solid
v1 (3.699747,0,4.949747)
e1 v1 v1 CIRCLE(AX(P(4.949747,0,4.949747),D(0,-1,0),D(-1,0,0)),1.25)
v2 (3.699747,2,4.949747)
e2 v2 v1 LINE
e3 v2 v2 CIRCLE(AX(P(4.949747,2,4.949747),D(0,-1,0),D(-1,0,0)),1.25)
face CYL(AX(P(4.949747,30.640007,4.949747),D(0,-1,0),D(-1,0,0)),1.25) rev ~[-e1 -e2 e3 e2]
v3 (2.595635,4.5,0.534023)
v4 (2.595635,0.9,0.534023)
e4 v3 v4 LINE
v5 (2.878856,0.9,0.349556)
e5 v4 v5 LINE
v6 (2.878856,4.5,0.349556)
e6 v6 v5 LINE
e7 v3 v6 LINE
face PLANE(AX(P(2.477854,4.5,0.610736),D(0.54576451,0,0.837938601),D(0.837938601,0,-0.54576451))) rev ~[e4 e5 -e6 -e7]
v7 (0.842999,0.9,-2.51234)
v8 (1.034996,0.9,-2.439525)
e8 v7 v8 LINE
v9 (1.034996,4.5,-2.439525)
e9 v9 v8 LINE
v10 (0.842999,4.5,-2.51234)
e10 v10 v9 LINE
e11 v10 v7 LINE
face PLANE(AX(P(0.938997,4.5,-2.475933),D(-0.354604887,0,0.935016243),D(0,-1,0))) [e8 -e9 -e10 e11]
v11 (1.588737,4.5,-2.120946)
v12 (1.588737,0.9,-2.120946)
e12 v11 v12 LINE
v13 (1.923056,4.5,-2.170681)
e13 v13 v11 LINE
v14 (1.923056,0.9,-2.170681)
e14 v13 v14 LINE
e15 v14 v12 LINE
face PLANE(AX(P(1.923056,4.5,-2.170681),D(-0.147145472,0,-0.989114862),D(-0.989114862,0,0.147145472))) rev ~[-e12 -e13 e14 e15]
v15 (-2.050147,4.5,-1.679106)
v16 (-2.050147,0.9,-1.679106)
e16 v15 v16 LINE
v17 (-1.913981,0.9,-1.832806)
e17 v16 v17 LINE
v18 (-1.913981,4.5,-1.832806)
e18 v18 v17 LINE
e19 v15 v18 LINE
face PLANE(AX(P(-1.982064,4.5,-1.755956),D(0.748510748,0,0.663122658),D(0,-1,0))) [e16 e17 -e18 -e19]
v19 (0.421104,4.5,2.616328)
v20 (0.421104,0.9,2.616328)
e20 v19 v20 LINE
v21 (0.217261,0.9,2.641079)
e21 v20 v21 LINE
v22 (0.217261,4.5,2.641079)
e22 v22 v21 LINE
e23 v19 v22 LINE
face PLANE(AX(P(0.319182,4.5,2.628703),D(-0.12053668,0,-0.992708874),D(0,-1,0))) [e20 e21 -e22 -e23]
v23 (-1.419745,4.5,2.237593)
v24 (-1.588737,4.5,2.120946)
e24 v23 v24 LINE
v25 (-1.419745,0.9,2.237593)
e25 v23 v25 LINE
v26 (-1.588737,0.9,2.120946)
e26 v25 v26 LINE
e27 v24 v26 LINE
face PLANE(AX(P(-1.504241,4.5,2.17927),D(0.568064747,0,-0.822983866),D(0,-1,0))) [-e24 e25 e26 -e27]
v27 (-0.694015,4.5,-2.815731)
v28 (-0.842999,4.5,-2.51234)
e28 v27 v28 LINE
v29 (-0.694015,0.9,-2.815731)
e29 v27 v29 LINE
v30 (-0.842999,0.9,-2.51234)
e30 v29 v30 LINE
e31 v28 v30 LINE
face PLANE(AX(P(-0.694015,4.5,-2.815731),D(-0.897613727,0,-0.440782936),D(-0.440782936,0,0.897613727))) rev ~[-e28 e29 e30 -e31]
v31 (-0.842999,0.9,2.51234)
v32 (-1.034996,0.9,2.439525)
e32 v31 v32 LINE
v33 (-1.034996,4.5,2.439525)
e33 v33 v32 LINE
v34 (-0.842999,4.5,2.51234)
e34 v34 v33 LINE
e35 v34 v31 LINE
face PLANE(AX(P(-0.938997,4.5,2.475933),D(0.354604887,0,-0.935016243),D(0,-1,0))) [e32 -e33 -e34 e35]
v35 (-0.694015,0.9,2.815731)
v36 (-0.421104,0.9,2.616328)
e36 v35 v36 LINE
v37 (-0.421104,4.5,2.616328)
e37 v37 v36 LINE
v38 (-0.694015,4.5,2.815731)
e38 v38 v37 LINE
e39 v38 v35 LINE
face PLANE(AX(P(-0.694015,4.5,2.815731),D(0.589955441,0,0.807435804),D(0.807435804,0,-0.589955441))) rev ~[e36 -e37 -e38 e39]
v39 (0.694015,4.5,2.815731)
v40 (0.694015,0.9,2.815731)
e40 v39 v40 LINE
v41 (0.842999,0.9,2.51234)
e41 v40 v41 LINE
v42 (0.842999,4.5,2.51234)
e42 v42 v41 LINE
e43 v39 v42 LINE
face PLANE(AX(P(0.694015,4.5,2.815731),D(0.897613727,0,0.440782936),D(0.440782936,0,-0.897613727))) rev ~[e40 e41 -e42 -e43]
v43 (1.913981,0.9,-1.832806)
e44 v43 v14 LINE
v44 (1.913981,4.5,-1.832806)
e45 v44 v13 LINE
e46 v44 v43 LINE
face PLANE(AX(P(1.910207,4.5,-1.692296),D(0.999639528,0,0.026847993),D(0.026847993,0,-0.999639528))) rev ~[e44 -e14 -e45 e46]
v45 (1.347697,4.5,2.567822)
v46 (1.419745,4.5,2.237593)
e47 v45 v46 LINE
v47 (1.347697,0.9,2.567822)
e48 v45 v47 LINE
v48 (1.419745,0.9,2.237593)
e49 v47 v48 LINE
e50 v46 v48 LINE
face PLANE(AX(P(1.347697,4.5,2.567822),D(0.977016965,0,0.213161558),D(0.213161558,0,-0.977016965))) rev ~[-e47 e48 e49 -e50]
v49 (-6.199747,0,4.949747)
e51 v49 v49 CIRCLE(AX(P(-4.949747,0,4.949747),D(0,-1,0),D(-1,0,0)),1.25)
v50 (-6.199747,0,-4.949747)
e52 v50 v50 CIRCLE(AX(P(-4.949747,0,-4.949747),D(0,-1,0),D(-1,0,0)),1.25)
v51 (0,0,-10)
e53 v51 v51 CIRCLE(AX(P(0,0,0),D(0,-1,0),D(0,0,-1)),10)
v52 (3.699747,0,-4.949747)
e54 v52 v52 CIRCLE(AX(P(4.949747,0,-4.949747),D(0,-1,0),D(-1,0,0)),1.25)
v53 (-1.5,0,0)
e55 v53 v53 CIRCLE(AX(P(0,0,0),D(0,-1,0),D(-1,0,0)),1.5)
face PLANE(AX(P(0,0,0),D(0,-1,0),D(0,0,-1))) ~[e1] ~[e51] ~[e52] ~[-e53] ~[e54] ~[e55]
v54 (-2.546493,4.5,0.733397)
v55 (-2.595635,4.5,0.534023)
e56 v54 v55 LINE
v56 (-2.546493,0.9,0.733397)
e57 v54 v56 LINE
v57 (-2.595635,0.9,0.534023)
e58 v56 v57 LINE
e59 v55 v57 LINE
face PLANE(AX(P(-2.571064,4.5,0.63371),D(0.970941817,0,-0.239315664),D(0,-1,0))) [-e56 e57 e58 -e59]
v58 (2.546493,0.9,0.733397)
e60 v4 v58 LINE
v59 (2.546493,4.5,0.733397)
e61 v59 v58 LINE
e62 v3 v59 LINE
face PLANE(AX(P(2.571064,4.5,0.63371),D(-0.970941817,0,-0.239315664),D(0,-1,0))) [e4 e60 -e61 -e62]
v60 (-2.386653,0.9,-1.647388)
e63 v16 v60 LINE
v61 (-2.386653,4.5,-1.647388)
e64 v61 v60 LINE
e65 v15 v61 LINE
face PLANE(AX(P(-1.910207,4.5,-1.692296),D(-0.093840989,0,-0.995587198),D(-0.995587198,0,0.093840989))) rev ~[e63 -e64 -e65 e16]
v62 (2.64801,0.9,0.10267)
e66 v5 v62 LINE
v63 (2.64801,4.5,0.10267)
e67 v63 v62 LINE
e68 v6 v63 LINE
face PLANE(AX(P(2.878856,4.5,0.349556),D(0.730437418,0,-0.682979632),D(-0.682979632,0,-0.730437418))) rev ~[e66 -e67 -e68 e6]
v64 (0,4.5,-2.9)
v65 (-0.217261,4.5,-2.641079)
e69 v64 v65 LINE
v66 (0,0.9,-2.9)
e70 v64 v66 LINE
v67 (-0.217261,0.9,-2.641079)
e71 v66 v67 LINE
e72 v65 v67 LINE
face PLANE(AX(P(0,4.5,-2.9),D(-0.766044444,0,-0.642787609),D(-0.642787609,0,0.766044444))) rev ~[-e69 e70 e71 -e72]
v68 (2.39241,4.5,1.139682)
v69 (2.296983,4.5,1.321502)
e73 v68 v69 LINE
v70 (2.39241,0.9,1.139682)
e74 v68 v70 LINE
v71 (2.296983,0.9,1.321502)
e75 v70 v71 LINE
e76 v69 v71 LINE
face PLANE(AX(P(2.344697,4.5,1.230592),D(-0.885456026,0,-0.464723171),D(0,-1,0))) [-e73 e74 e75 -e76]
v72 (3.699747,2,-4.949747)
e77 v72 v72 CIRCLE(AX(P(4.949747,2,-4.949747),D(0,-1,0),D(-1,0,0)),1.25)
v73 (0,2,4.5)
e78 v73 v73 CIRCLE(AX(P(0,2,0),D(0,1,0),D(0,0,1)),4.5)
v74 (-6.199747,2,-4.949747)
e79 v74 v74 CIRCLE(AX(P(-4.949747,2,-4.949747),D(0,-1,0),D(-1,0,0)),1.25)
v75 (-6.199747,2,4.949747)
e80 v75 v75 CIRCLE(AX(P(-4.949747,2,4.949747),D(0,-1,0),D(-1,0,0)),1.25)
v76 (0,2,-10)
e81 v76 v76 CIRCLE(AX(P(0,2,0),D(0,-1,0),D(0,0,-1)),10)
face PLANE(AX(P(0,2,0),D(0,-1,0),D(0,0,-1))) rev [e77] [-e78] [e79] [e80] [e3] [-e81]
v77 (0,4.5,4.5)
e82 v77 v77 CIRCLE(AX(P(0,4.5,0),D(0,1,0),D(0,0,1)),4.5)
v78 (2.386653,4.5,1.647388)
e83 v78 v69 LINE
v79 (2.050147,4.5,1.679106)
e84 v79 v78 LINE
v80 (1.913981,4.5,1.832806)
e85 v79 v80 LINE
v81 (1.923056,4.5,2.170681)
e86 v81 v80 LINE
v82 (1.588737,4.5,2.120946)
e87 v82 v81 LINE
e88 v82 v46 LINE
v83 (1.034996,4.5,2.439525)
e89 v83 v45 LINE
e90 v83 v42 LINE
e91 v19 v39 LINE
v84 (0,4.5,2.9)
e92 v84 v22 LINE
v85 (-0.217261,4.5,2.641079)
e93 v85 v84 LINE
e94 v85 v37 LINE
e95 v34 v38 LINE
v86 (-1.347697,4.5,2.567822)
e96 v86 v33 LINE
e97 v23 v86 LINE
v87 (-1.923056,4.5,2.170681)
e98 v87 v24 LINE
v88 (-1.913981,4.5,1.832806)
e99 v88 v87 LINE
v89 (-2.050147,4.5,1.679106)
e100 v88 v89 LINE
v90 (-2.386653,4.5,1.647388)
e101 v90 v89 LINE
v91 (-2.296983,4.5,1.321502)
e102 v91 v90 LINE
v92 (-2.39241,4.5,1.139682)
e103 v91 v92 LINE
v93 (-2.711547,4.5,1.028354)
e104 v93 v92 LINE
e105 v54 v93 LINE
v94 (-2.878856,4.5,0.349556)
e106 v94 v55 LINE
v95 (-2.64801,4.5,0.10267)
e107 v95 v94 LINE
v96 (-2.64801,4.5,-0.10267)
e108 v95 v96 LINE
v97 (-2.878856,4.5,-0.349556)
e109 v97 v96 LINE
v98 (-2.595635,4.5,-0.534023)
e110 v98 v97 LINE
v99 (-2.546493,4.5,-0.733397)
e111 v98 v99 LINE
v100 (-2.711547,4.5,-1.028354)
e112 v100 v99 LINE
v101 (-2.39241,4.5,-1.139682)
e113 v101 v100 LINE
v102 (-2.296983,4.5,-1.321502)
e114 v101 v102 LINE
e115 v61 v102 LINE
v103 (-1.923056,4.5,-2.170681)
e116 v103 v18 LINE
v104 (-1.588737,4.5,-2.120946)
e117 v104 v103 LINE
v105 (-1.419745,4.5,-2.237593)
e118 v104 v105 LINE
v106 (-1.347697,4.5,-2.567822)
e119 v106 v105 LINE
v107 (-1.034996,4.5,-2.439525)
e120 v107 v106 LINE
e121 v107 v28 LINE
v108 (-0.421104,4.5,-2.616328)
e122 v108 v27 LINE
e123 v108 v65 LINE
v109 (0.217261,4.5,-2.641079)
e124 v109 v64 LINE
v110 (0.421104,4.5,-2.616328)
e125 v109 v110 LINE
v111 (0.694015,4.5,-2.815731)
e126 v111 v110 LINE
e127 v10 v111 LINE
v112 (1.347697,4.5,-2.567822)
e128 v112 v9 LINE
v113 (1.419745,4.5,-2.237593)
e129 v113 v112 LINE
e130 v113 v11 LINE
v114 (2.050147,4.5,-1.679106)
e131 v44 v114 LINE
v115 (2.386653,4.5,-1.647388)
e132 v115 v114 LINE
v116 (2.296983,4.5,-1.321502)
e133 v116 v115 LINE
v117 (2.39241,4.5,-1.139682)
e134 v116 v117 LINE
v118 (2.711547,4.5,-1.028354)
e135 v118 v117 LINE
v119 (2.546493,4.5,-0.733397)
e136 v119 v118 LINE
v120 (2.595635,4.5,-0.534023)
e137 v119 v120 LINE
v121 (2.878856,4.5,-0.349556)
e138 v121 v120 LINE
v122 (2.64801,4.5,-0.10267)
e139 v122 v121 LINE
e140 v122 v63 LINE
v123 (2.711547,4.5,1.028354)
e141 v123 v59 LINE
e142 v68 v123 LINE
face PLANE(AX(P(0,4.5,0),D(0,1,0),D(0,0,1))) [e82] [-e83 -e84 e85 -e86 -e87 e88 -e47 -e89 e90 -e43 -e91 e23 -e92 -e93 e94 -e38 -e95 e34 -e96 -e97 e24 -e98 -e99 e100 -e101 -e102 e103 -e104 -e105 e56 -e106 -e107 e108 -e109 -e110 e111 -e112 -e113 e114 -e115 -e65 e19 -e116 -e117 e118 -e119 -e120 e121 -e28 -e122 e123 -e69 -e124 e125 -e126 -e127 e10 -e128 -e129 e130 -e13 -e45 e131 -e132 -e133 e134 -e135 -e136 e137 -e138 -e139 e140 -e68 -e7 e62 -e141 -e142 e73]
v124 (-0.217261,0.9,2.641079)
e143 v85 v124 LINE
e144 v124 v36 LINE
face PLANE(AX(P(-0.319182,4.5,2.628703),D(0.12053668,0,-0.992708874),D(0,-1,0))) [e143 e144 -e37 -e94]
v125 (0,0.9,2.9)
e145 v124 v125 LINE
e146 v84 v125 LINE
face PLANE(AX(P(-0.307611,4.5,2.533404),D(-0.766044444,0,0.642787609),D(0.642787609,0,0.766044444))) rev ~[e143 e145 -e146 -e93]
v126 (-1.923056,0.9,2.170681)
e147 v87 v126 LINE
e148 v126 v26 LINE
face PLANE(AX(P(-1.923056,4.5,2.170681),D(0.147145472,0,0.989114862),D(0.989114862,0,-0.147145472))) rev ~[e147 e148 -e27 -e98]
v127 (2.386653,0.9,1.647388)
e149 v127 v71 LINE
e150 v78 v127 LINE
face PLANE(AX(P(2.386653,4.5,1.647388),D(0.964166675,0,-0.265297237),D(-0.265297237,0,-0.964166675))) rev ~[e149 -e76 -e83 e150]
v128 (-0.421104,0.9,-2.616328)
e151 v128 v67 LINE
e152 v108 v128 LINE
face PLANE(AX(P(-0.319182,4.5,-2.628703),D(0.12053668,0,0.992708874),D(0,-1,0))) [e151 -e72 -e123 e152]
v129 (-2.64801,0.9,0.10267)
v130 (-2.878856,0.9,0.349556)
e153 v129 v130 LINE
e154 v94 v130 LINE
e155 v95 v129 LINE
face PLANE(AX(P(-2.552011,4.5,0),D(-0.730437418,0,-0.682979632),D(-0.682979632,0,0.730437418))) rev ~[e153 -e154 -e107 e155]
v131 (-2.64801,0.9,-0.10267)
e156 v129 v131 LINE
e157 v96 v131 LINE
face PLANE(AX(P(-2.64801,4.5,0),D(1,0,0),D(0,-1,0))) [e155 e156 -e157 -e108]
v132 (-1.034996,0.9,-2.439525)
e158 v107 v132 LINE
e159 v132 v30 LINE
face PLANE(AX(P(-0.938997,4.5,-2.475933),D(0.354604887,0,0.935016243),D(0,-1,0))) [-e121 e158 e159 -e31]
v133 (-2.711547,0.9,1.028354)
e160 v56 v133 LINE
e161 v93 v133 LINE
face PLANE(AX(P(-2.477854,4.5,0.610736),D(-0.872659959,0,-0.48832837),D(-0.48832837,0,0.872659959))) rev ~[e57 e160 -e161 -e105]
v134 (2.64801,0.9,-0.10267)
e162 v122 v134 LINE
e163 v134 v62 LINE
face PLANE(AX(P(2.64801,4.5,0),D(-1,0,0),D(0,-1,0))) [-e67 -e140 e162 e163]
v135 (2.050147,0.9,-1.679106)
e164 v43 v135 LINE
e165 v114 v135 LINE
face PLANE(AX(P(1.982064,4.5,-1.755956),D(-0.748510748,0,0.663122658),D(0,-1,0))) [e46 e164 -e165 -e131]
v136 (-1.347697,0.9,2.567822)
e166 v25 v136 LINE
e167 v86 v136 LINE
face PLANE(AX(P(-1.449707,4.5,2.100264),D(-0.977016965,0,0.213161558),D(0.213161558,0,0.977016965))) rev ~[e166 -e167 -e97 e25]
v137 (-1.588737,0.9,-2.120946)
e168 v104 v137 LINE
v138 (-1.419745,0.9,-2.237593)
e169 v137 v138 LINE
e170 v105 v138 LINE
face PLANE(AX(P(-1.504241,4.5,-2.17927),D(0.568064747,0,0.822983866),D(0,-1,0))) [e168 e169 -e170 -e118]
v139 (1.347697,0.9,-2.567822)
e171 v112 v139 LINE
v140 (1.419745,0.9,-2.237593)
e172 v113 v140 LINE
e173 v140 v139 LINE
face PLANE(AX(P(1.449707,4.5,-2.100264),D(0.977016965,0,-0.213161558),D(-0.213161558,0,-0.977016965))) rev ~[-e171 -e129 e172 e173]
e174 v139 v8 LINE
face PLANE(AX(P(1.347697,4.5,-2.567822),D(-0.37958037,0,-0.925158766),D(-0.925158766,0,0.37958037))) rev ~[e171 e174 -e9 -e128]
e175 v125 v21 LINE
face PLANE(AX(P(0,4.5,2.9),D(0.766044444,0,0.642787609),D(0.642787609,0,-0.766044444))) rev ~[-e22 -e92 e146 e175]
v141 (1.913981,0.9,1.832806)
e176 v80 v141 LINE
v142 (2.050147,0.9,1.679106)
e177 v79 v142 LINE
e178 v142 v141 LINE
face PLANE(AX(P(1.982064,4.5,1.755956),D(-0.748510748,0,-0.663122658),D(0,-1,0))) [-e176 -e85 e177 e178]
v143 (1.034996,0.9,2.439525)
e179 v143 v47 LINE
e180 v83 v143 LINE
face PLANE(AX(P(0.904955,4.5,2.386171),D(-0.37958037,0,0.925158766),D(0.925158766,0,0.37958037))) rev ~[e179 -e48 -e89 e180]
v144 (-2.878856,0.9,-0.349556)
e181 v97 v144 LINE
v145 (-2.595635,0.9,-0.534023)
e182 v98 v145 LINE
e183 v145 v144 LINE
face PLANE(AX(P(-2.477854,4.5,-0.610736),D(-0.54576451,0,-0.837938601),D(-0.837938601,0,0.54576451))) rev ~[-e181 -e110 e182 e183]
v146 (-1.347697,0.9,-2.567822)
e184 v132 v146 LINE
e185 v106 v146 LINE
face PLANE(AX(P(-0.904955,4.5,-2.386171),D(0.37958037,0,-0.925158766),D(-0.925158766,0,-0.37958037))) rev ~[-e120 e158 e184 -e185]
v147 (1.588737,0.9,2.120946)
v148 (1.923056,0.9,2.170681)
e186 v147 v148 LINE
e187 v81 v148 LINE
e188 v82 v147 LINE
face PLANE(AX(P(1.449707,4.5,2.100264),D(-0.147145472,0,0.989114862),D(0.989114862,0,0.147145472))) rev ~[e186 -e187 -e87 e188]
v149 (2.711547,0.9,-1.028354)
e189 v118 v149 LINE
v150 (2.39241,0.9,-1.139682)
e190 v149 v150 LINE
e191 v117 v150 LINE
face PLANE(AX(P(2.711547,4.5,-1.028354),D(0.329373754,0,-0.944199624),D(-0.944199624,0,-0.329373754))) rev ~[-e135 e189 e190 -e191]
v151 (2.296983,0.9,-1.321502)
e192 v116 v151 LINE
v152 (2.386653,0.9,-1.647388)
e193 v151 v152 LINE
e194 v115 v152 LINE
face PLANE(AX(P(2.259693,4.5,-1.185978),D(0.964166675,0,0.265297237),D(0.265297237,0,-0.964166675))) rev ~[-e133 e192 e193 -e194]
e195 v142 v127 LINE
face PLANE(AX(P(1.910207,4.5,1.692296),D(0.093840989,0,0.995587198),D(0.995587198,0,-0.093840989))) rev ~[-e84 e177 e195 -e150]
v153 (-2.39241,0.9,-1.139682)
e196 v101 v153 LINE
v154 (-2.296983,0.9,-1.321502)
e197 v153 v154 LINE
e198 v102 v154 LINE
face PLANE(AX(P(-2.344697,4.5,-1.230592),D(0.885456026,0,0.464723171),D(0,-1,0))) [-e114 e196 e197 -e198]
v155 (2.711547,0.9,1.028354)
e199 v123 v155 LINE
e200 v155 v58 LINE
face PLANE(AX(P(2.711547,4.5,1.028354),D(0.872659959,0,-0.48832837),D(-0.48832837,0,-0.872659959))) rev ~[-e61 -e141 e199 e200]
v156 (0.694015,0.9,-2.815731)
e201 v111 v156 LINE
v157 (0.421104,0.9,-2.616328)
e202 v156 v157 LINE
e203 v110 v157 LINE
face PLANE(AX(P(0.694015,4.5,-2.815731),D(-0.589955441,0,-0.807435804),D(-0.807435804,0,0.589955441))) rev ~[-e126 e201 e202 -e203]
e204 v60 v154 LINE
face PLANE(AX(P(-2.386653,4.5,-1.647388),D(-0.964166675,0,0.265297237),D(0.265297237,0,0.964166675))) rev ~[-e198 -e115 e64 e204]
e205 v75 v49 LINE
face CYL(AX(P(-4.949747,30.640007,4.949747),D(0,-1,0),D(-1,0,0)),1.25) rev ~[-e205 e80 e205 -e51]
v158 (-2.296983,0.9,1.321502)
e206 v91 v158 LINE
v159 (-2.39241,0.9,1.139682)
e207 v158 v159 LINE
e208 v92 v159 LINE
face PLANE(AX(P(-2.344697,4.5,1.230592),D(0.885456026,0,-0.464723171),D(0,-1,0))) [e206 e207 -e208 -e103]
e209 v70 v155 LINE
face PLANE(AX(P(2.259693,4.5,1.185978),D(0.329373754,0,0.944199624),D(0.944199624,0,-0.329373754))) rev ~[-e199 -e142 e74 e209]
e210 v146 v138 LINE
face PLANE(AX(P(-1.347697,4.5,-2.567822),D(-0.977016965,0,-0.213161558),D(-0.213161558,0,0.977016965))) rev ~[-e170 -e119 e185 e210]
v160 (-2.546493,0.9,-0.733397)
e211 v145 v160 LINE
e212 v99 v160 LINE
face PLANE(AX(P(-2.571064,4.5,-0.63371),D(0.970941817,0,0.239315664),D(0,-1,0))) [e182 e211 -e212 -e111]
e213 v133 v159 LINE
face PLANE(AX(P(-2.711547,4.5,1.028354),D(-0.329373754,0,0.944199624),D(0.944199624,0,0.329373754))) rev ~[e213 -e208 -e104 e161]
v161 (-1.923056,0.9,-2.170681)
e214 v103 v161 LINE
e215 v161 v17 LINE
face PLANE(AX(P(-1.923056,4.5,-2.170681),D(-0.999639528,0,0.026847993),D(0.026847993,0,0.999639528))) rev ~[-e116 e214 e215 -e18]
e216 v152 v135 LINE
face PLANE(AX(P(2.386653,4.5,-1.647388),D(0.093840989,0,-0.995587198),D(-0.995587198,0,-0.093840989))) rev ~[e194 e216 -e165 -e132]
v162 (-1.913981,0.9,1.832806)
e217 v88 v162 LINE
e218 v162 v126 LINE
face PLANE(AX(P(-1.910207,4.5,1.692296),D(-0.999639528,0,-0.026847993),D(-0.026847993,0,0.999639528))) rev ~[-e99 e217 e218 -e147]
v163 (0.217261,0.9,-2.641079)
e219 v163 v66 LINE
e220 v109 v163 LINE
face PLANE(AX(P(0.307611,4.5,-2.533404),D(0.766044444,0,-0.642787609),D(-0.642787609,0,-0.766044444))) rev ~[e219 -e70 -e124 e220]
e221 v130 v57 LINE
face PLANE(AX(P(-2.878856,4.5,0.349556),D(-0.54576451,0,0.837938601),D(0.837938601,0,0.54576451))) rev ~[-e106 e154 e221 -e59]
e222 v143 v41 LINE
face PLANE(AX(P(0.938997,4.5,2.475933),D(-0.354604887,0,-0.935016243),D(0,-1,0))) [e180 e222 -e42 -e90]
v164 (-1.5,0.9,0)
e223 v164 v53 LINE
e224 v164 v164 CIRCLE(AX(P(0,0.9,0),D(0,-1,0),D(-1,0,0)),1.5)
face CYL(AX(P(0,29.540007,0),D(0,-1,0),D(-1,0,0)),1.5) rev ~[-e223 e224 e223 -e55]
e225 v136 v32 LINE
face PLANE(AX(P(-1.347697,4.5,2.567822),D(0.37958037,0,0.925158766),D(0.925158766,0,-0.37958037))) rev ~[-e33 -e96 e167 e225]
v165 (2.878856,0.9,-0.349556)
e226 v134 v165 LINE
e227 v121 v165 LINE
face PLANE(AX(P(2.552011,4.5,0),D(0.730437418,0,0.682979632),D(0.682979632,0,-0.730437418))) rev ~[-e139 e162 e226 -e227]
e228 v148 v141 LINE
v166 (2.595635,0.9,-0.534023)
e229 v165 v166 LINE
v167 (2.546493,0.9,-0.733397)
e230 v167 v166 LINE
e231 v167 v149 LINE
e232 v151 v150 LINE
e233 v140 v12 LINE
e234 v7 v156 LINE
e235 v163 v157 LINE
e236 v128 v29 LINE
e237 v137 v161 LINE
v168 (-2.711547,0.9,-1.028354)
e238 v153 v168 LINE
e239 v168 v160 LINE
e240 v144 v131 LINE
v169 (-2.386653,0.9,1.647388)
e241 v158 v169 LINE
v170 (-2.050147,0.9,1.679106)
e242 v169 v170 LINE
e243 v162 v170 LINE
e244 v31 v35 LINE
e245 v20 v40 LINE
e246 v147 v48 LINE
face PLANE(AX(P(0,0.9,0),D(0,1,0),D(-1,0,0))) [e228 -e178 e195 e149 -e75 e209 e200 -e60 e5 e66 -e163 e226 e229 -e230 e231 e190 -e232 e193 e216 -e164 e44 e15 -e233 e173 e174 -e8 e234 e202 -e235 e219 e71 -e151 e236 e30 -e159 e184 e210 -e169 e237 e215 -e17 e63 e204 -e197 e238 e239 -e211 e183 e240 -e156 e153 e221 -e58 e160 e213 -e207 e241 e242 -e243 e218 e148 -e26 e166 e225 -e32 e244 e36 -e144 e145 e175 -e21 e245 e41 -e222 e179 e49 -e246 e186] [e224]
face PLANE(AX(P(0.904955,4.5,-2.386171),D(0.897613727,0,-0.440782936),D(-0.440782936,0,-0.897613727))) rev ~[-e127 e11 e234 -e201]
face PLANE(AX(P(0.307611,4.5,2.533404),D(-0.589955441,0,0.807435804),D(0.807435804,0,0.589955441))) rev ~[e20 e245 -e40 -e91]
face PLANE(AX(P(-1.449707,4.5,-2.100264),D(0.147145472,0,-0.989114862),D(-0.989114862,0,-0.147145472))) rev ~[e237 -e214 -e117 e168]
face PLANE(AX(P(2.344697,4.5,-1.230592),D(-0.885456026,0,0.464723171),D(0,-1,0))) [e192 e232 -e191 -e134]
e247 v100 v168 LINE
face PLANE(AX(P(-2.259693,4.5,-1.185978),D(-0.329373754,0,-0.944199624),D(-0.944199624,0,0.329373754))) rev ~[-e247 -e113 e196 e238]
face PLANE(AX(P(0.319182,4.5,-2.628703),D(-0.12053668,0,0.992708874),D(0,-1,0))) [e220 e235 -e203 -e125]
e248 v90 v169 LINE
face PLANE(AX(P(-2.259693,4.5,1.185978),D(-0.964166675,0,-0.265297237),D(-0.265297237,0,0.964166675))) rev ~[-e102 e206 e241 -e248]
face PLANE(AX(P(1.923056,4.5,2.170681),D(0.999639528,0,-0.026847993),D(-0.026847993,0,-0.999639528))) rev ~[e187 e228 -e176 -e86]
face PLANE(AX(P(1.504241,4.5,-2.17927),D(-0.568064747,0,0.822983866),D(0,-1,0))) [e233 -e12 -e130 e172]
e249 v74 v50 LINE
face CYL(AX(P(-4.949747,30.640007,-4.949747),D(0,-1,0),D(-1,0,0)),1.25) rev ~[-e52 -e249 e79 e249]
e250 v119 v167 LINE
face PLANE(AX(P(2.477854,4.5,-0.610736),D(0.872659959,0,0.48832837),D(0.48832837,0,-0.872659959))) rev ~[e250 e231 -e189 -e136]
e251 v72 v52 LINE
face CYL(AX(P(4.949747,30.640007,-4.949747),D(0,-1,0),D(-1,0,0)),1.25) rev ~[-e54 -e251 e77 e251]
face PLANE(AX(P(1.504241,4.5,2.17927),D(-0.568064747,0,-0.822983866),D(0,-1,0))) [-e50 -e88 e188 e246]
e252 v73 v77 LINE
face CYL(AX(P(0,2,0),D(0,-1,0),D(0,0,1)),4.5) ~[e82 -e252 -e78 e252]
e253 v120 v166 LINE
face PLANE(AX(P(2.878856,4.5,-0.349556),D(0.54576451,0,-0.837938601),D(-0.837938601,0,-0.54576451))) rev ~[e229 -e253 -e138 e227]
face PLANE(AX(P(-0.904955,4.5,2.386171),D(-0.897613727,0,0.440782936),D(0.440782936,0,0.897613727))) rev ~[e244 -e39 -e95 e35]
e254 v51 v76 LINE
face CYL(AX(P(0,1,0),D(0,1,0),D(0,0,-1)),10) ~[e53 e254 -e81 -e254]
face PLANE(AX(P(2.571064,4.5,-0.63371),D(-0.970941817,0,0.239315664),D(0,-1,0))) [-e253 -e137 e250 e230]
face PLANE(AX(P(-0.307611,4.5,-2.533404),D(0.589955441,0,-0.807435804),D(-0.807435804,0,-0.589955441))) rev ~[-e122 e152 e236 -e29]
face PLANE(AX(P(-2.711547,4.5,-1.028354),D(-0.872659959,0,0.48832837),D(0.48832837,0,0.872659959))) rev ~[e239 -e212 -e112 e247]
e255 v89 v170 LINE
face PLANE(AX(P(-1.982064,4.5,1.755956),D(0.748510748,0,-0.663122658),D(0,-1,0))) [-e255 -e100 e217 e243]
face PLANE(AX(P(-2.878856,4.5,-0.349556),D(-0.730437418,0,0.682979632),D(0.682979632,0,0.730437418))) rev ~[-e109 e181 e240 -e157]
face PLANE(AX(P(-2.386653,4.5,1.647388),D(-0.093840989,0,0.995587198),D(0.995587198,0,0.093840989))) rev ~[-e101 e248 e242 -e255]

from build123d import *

# Parameters (mm, degrees)
SKETCH_1_W              = 10
SKETCH_1_H              = 2
SKETCH_2_R              = 4.5
EXTRUDE_1_DEPTH         = 2.5
CUT_EXTRUDE_1_DEPTH     = 3.6
HOLE_WIZARD_3_0_3_1_D   = 3
HOLE_WIZARD_2_5_2_5_1_D = 2.5
CHAMFER_1_SIZE          = 0.140560122
CHAMFER_1_EDGE_2_SIZE   = 0.140560122
CHAMFER_1_EDGE_3_SIZE   = 0.140560122
CHAMFER_1_EDGE_4_SIZE   = 0.140560122
CHAMFER_1_EDGE_5_SIZE   = 0.140560122
CHAMFER_1_EDGE_6_SIZE   = 0.140560122
CHAMFER_1_EDGE_7_SIZE   = 0.140560122
CHAMFER_1_EDGE_8_SIZE   = 0.140560122
CHAMFER_1_EDGE_9_SIZE   = 0.140560122
CHAMFER_1_EDGE_10_SIZE  = 0.140560122
CHAMFER_1_EDGE_11_SIZE  = 0.140560122
CHAMFER_1_EDGE_12_SIZE  = 0.140560122
CHAMFER_1_EDGE_13_SIZE  = 0.140560122
CHAMFER_1_EDGE_14_SIZE  = 0.140560122
CHAMFER_1_EDGE_15_SIZE  = 0.140560122
CHAMFER_1_EDGE_16_SIZE  = 0.140560122
CHAMFER_1_EDGE_17_SIZE  = 0.140560122
CHAMFER_1_EDGE_18_SIZE  = 0.140560122
CHAMFER_1_EDGE_19_SIZE  = 0.140560122
CHAMFER_1_EDGE_20_SIZE  = 0.140560122
CHAMFER_1_EDGE_21_SIZE  = 0.140560122
CHAMFER_1_EDGE_22_SIZE  = 0.140560122
CHAMFER_1_EDGE_23_SIZE  = 0.140560122
CHAMFER_1_EDGE_24_SIZE  = 0.140560122
CHAMFER_1_EDGE_25_SIZE  = 0.140560122
CHAMFER_1_EDGE_26_SIZE  = 0.140560122


with BuildPart() as part:
    # Эскиз1 → Повернуть1 (revolve)
    with BuildSketch(Plane.XY, mode=Mode.PRIVATE) as revolve_1_sk:
        with Locations((5, 1)):
            Rectangle(SKETCH_1_W, SKETCH_1_H)
    revolve(revolve_1_sk.sketch.rotate(Axis((0, 2, 0), (0, -1, 0)), 270), axis=Axis((0, 2, 0), (0, -1, 0)))

    # Эскиз2 → Бобышка-Вытянуть1 (add)
    with BuildSketch(Plane(origin=(0, 2, 0), x_dir=(-1, 0, 0), z_dir=(0, 1, 0))):
        with Locations(Location((0, 0, 0), (0, 0, 90))):
            Circle(SKETCH_2_R)
    extrude(amount=EXTRUDE_1_DEPTH)

    # Эскиз3 → Вырез-Вытянуть1 (cut)
    with BuildSketch(Plane(origin=(0, 4.5, 0), x_dir=(-1, 0, 0), z_dir=(0, 1, 0))):
        Polygon((-2.711547104, 1.028354172), (-2.477853855, 0.610736123), (-2.878855735, 0.349556373), (-2.552010646, 0), (-2.878855735, -0.349556373), (-2.477853855, -0.610736123), (-2.711547104, -1.028354172), (-2.259693204, -1.185978483), (-2.386653211, -1.647387766), (-1.910207398, -1.692296084), (-1.923055709, -2.17068117), (-1.449707281, -2.100263587), (-1.347697199, -2.567822474), (-0.904955447, -2.386171406), (-0.694015426, -2.815731271), (-0.307610891, -2.533403615), (0, -2.9), (0.307610891, -2.533403615), (0.694015426, -2.815731271), (0.904955447, -2.386171406), (1.347697199, -2.567822474), (1.449707281, -2.100263587), (1.923055709, -2.17068117), (1.910207398, -1.692296084), (2.386653211, -1.647387766), (2.259693204, -1.185978483), (2.711547104, -1.028354172), (2.477853855, -0.610736123), (2.878855735, -0.349556373), (2.552010646, 0), (2.878855735, 0.349556373), (2.477853855, 0.610736123), (2.711547104, 1.028354172), (2.259693204, 1.185978483), (2.386653211, 1.647387766), (1.910207398, 1.692296084), (1.923055709, 2.17068117), (1.449707281, 2.100263587), (1.347697199, 2.567822474), (0.904955447, 2.386171406), (0.694015426, 2.815731271), (0.307610891, 2.533403615), (0, 2.9), (-0.307610891, 2.533403615), (-0.694015426, 2.815731271), (-0.904955447, 2.386171406), (-1.347697199, 2.567822474), (-1.449707281, 2.100263587), (-1.923055709, 2.17068117), (-1.910207398, 1.692296084), (-2.386653211, 1.647387766), (-2.259693204, 1.185978483), align=None)
    extrude(amount=-CUT_EXTRUDE_1_DEPTH, mode=Mode.SUBTRACT)

    # Диаметр отверстия Ø3.0 (3)1 (through all)
    with Locations(Plane(origin=(0, 0.9, 0), x_dir=(1, 0, 0), z_dir=(0, 1, 0))):
        with Locations((0, 0)):
            Hole(HOLE_WIZARD_3_0_3_1_D / 2)

    # Диаметр отверстия Ø2.5 (2.5)1 (through all)
    with Locations(Plane(origin=(0, 2, 0), x_dir=(1, 0, 0), z_dir=(0, 1, 0))):
        with Locations((-4.949747468, 4.949747468), (4.949747468, 4.949747468), (4.949747468, -4.949747468), (-4.949747468, -4.949747468)):
            Hole(HOLE_WIZARD_2_5_2_5_1_D / 2)

    # Фаска1
    chamfer_1_edges = [part.edges().sort_by_distance(p)[0] for p in [
        (2.259693204, 2.7, 1.185978483),
    ]]
    chamfer(chamfer_1_edges, length=CHAMFER_1_SIZE)

    # Фаска1 edge 2
    chamfer_1_edge_2_edges = [part.edges().sort_by_distance(p)[0] for p in [
        (1.910207398, 2.7, 1.692296084),
    ]]
    chamfer(chamfer_1_edge_2_edges, length=CHAMFER_1_EDGE_2_SIZE)

    # Фаска1 edge 3
    chamfer_1_edge_3_edges = [part.edges().sort_by_distance(p)[0] for p in [
        (1.449707281, 2.7, 2.100263587),
    ]]
    chamfer(chamfer_1_edge_3_edges, length=CHAMFER_1_EDGE_3_SIZE)

    # Фаска1 edge 4
    chamfer_1_edge_4_edges = [part.edges().sort_by_distance(p)[0] for p in [
        (0.904955447, 2.7, 2.386171406),
    ]]
    chamfer(chamfer_1_edge_4_edges, length=CHAMFER_1_EDGE_4_SIZE)

    # Фаска1 edge 5
    chamfer_1_edge_5_edges = [part.edges().sort_by_distance(p)[0] for p in [
        (0.307610891, 2.7, 2.533403615),
    ]]
    chamfer(chamfer_1_edge_5_edges, length=CHAMFER_1_EDGE_5_SIZE)

    # Фаска1 edge 6
    chamfer_1_edge_6_edges = [part.edges().sort_by_distance(p)[0] for p in [
        (-0.307610891, 2.7, 2.533403615),
    ]]
    chamfer(chamfer_1_edge_6_edges, length=CHAMFER_1_EDGE_6_SIZE)

    # Фаска1 edge 7
    chamfer_1_edge_7_edges = [part.edges().sort_by_distance(p)[0] for p in [
        (-0.904955447, 2.7, 2.386171406),
    ]]
    chamfer(chamfer_1_edge_7_edges, length=CHAMFER_1_EDGE_7_SIZE)

    # Фаска1 edge 8
    chamfer_1_edge_8_edges = [part.edges().sort_by_distance(p)[0] for p in [
        (-1.449707281, 2.7, 2.100263587),
    ]]
    chamfer(chamfer_1_edge_8_edges, length=CHAMFER_1_EDGE_8_SIZE)

    # Фаска1 edge 9
    chamfer_1_edge_9_edges = [part.edges().sort_by_distance(p)[0] for p in [
        (-1.910207398, 2.7, 1.692296084),
    ]]
    chamfer(chamfer_1_edge_9_edges, length=CHAMFER_1_EDGE_9_SIZE)

    # Фаска1 edge 10
    chamfer_1_edge_10_edges = [part.edges().sort_by_distance(p)[0] for p in [
        (-2.259693204, 2.7, 1.185978483),
    ]]
    chamfer(chamfer_1_edge_10_edges, length=CHAMFER_1_EDGE_10_SIZE)

    # Фаска1 edge 11
    chamfer_1_edge_11_edges = [part.edges().sort_by_distance(p)[0] for p in [
        (-2.477853855, 2.7, 0.610736123),
    ]]
    chamfer(chamfer_1_edge_11_edges, length=CHAMFER_1_EDGE_11_SIZE)

    # Фаска1 edge 12
    chamfer_1_edge_12_edges = [part.edges().sort_by_distance(p)[0] for p in [
        (-2.552010646, 2.7, 0),
    ]]
    chamfer(chamfer_1_edge_12_edges, length=CHAMFER_1_EDGE_12_SIZE)

    # Фаска1 edge 13
    chamfer_1_edge_13_edges = [part.edges().sort_by_distance(p)[0] for p in [
        (-2.477853855, 2.7, -0.610736123),
    ]]
    chamfer(chamfer_1_edge_13_edges, length=CHAMFER_1_EDGE_13_SIZE)

    # Фаска1 edge 14
    chamfer_1_edge_14_edges = [part.edges().sort_by_distance(p)[0] for p in [
        (-2.259693204, 2.7, -1.185978483),
    ]]
    chamfer(chamfer_1_edge_14_edges, length=CHAMFER_1_EDGE_14_SIZE)

    # Фаска1 edge 15
    chamfer_1_edge_15_edges = [part.edges().sort_by_distance(p)[0] for p in [
        (-1.910207398, 2.7, -1.692296084),
    ]]
    chamfer(chamfer_1_edge_15_edges, length=CHAMFER_1_EDGE_15_SIZE)

    # Фаска1 edge 16
    chamfer_1_edge_16_edges = [part.edges().sort_by_distance(p)[0] for p in [
        (-1.449707281, 2.7, -2.100263587),
    ]]
    chamfer(chamfer_1_edge_16_edges, length=CHAMFER_1_EDGE_16_SIZE)

    # Фаска1 edge 17
    chamfer_1_edge_17_edges = [part.edges().sort_by_distance(p)[0] for p in [
        (-0.904955447, 2.7, -2.386171406),
    ]]
    chamfer(chamfer_1_edge_17_edges, length=CHAMFER_1_EDGE_17_SIZE)

    # Фаска1 edge 18
    chamfer_1_edge_18_edges = [part.edges().sort_by_distance(p)[0] for p in [
        (-0.307610891, 2.7, -2.533403615),
    ]]
    chamfer(chamfer_1_edge_18_edges, length=CHAMFER_1_EDGE_18_SIZE)

    # Фаска1 edge 19
    chamfer_1_edge_19_edges = [part.edges().sort_by_distance(p)[0] for p in [
        (0.307610891, 2.7, -2.533403615),
    ]]
    chamfer(chamfer_1_edge_19_edges, length=CHAMFER_1_EDGE_19_SIZE)

    # Фаска1 edge 20
    chamfer_1_edge_20_edges = [part.edges().sort_by_distance(p)[0] for p in [
        (0.904955447, 2.7, -2.386171406),
    ]]
    chamfer(chamfer_1_edge_20_edges, length=CHAMFER_1_EDGE_20_SIZE)

    # Фаска1 edge 21
    chamfer_1_edge_21_edges = [part.edges().sort_by_distance(p)[0] for p in [
        (1.449707281, 2.7, -2.100263587),
    ]]
    chamfer(chamfer_1_edge_21_edges, length=CHAMFER_1_EDGE_21_SIZE)

    # Фаска1 edge 22
    chamfer_1_edge_22_edges = [part.edges().sort_by_distance(p)[0] for p in [
        (1.910207398, 2.7, -1.692296084),
    ]]
    chamfer(chamfer_1_edge_22_edges, length=CHAMFER_1_EDGE_22_SIZE)

    # Фаска1 edge 23
    chamfer_1_edge_23_edges = [part.edges().sort_by_distance(p)[0] for p in [
        (2.259693204, 2.7, -1.185978483),
    ]]
    chamfer(chamfer_1_edge_23_edges, length=CHAMFER_1_EDGE_23_SIZE)

    # Фаска1 edge 24
    chamfer_1_edge_24_edges = [part.edges().sort_by_distance(p)[0] for p in [
        (2.477853855, 2.7, -0.610736123),
    ]]
    chamfer(chamfer_1_edge_24_edges, length=CHAMFER_1_EDGE_24_SIZE)

    # Фаска1 edge 25
    chamfer_1_edge_25_edges = [part.edges().sort_by_distance(p)[0] for p in [
        (2.552010646, 2.7, 0),
    ]]
    chamfer(chamfer_1_edge_25_edges, length=CHAMFER_1_EDGE_25_SIZE)

    # Фаска1 edge 26
    chamfer_1_edge_26_edges = [part.edges().sort_by_distance(p)[0] for p in [
        (2.477853855, 2.7, 0.610736123),
    ]]
    chamfer(chamfer_1_edge_26_edges, length=CHAMFER_1_EDGE_26_SIZE)


solid = part.part
